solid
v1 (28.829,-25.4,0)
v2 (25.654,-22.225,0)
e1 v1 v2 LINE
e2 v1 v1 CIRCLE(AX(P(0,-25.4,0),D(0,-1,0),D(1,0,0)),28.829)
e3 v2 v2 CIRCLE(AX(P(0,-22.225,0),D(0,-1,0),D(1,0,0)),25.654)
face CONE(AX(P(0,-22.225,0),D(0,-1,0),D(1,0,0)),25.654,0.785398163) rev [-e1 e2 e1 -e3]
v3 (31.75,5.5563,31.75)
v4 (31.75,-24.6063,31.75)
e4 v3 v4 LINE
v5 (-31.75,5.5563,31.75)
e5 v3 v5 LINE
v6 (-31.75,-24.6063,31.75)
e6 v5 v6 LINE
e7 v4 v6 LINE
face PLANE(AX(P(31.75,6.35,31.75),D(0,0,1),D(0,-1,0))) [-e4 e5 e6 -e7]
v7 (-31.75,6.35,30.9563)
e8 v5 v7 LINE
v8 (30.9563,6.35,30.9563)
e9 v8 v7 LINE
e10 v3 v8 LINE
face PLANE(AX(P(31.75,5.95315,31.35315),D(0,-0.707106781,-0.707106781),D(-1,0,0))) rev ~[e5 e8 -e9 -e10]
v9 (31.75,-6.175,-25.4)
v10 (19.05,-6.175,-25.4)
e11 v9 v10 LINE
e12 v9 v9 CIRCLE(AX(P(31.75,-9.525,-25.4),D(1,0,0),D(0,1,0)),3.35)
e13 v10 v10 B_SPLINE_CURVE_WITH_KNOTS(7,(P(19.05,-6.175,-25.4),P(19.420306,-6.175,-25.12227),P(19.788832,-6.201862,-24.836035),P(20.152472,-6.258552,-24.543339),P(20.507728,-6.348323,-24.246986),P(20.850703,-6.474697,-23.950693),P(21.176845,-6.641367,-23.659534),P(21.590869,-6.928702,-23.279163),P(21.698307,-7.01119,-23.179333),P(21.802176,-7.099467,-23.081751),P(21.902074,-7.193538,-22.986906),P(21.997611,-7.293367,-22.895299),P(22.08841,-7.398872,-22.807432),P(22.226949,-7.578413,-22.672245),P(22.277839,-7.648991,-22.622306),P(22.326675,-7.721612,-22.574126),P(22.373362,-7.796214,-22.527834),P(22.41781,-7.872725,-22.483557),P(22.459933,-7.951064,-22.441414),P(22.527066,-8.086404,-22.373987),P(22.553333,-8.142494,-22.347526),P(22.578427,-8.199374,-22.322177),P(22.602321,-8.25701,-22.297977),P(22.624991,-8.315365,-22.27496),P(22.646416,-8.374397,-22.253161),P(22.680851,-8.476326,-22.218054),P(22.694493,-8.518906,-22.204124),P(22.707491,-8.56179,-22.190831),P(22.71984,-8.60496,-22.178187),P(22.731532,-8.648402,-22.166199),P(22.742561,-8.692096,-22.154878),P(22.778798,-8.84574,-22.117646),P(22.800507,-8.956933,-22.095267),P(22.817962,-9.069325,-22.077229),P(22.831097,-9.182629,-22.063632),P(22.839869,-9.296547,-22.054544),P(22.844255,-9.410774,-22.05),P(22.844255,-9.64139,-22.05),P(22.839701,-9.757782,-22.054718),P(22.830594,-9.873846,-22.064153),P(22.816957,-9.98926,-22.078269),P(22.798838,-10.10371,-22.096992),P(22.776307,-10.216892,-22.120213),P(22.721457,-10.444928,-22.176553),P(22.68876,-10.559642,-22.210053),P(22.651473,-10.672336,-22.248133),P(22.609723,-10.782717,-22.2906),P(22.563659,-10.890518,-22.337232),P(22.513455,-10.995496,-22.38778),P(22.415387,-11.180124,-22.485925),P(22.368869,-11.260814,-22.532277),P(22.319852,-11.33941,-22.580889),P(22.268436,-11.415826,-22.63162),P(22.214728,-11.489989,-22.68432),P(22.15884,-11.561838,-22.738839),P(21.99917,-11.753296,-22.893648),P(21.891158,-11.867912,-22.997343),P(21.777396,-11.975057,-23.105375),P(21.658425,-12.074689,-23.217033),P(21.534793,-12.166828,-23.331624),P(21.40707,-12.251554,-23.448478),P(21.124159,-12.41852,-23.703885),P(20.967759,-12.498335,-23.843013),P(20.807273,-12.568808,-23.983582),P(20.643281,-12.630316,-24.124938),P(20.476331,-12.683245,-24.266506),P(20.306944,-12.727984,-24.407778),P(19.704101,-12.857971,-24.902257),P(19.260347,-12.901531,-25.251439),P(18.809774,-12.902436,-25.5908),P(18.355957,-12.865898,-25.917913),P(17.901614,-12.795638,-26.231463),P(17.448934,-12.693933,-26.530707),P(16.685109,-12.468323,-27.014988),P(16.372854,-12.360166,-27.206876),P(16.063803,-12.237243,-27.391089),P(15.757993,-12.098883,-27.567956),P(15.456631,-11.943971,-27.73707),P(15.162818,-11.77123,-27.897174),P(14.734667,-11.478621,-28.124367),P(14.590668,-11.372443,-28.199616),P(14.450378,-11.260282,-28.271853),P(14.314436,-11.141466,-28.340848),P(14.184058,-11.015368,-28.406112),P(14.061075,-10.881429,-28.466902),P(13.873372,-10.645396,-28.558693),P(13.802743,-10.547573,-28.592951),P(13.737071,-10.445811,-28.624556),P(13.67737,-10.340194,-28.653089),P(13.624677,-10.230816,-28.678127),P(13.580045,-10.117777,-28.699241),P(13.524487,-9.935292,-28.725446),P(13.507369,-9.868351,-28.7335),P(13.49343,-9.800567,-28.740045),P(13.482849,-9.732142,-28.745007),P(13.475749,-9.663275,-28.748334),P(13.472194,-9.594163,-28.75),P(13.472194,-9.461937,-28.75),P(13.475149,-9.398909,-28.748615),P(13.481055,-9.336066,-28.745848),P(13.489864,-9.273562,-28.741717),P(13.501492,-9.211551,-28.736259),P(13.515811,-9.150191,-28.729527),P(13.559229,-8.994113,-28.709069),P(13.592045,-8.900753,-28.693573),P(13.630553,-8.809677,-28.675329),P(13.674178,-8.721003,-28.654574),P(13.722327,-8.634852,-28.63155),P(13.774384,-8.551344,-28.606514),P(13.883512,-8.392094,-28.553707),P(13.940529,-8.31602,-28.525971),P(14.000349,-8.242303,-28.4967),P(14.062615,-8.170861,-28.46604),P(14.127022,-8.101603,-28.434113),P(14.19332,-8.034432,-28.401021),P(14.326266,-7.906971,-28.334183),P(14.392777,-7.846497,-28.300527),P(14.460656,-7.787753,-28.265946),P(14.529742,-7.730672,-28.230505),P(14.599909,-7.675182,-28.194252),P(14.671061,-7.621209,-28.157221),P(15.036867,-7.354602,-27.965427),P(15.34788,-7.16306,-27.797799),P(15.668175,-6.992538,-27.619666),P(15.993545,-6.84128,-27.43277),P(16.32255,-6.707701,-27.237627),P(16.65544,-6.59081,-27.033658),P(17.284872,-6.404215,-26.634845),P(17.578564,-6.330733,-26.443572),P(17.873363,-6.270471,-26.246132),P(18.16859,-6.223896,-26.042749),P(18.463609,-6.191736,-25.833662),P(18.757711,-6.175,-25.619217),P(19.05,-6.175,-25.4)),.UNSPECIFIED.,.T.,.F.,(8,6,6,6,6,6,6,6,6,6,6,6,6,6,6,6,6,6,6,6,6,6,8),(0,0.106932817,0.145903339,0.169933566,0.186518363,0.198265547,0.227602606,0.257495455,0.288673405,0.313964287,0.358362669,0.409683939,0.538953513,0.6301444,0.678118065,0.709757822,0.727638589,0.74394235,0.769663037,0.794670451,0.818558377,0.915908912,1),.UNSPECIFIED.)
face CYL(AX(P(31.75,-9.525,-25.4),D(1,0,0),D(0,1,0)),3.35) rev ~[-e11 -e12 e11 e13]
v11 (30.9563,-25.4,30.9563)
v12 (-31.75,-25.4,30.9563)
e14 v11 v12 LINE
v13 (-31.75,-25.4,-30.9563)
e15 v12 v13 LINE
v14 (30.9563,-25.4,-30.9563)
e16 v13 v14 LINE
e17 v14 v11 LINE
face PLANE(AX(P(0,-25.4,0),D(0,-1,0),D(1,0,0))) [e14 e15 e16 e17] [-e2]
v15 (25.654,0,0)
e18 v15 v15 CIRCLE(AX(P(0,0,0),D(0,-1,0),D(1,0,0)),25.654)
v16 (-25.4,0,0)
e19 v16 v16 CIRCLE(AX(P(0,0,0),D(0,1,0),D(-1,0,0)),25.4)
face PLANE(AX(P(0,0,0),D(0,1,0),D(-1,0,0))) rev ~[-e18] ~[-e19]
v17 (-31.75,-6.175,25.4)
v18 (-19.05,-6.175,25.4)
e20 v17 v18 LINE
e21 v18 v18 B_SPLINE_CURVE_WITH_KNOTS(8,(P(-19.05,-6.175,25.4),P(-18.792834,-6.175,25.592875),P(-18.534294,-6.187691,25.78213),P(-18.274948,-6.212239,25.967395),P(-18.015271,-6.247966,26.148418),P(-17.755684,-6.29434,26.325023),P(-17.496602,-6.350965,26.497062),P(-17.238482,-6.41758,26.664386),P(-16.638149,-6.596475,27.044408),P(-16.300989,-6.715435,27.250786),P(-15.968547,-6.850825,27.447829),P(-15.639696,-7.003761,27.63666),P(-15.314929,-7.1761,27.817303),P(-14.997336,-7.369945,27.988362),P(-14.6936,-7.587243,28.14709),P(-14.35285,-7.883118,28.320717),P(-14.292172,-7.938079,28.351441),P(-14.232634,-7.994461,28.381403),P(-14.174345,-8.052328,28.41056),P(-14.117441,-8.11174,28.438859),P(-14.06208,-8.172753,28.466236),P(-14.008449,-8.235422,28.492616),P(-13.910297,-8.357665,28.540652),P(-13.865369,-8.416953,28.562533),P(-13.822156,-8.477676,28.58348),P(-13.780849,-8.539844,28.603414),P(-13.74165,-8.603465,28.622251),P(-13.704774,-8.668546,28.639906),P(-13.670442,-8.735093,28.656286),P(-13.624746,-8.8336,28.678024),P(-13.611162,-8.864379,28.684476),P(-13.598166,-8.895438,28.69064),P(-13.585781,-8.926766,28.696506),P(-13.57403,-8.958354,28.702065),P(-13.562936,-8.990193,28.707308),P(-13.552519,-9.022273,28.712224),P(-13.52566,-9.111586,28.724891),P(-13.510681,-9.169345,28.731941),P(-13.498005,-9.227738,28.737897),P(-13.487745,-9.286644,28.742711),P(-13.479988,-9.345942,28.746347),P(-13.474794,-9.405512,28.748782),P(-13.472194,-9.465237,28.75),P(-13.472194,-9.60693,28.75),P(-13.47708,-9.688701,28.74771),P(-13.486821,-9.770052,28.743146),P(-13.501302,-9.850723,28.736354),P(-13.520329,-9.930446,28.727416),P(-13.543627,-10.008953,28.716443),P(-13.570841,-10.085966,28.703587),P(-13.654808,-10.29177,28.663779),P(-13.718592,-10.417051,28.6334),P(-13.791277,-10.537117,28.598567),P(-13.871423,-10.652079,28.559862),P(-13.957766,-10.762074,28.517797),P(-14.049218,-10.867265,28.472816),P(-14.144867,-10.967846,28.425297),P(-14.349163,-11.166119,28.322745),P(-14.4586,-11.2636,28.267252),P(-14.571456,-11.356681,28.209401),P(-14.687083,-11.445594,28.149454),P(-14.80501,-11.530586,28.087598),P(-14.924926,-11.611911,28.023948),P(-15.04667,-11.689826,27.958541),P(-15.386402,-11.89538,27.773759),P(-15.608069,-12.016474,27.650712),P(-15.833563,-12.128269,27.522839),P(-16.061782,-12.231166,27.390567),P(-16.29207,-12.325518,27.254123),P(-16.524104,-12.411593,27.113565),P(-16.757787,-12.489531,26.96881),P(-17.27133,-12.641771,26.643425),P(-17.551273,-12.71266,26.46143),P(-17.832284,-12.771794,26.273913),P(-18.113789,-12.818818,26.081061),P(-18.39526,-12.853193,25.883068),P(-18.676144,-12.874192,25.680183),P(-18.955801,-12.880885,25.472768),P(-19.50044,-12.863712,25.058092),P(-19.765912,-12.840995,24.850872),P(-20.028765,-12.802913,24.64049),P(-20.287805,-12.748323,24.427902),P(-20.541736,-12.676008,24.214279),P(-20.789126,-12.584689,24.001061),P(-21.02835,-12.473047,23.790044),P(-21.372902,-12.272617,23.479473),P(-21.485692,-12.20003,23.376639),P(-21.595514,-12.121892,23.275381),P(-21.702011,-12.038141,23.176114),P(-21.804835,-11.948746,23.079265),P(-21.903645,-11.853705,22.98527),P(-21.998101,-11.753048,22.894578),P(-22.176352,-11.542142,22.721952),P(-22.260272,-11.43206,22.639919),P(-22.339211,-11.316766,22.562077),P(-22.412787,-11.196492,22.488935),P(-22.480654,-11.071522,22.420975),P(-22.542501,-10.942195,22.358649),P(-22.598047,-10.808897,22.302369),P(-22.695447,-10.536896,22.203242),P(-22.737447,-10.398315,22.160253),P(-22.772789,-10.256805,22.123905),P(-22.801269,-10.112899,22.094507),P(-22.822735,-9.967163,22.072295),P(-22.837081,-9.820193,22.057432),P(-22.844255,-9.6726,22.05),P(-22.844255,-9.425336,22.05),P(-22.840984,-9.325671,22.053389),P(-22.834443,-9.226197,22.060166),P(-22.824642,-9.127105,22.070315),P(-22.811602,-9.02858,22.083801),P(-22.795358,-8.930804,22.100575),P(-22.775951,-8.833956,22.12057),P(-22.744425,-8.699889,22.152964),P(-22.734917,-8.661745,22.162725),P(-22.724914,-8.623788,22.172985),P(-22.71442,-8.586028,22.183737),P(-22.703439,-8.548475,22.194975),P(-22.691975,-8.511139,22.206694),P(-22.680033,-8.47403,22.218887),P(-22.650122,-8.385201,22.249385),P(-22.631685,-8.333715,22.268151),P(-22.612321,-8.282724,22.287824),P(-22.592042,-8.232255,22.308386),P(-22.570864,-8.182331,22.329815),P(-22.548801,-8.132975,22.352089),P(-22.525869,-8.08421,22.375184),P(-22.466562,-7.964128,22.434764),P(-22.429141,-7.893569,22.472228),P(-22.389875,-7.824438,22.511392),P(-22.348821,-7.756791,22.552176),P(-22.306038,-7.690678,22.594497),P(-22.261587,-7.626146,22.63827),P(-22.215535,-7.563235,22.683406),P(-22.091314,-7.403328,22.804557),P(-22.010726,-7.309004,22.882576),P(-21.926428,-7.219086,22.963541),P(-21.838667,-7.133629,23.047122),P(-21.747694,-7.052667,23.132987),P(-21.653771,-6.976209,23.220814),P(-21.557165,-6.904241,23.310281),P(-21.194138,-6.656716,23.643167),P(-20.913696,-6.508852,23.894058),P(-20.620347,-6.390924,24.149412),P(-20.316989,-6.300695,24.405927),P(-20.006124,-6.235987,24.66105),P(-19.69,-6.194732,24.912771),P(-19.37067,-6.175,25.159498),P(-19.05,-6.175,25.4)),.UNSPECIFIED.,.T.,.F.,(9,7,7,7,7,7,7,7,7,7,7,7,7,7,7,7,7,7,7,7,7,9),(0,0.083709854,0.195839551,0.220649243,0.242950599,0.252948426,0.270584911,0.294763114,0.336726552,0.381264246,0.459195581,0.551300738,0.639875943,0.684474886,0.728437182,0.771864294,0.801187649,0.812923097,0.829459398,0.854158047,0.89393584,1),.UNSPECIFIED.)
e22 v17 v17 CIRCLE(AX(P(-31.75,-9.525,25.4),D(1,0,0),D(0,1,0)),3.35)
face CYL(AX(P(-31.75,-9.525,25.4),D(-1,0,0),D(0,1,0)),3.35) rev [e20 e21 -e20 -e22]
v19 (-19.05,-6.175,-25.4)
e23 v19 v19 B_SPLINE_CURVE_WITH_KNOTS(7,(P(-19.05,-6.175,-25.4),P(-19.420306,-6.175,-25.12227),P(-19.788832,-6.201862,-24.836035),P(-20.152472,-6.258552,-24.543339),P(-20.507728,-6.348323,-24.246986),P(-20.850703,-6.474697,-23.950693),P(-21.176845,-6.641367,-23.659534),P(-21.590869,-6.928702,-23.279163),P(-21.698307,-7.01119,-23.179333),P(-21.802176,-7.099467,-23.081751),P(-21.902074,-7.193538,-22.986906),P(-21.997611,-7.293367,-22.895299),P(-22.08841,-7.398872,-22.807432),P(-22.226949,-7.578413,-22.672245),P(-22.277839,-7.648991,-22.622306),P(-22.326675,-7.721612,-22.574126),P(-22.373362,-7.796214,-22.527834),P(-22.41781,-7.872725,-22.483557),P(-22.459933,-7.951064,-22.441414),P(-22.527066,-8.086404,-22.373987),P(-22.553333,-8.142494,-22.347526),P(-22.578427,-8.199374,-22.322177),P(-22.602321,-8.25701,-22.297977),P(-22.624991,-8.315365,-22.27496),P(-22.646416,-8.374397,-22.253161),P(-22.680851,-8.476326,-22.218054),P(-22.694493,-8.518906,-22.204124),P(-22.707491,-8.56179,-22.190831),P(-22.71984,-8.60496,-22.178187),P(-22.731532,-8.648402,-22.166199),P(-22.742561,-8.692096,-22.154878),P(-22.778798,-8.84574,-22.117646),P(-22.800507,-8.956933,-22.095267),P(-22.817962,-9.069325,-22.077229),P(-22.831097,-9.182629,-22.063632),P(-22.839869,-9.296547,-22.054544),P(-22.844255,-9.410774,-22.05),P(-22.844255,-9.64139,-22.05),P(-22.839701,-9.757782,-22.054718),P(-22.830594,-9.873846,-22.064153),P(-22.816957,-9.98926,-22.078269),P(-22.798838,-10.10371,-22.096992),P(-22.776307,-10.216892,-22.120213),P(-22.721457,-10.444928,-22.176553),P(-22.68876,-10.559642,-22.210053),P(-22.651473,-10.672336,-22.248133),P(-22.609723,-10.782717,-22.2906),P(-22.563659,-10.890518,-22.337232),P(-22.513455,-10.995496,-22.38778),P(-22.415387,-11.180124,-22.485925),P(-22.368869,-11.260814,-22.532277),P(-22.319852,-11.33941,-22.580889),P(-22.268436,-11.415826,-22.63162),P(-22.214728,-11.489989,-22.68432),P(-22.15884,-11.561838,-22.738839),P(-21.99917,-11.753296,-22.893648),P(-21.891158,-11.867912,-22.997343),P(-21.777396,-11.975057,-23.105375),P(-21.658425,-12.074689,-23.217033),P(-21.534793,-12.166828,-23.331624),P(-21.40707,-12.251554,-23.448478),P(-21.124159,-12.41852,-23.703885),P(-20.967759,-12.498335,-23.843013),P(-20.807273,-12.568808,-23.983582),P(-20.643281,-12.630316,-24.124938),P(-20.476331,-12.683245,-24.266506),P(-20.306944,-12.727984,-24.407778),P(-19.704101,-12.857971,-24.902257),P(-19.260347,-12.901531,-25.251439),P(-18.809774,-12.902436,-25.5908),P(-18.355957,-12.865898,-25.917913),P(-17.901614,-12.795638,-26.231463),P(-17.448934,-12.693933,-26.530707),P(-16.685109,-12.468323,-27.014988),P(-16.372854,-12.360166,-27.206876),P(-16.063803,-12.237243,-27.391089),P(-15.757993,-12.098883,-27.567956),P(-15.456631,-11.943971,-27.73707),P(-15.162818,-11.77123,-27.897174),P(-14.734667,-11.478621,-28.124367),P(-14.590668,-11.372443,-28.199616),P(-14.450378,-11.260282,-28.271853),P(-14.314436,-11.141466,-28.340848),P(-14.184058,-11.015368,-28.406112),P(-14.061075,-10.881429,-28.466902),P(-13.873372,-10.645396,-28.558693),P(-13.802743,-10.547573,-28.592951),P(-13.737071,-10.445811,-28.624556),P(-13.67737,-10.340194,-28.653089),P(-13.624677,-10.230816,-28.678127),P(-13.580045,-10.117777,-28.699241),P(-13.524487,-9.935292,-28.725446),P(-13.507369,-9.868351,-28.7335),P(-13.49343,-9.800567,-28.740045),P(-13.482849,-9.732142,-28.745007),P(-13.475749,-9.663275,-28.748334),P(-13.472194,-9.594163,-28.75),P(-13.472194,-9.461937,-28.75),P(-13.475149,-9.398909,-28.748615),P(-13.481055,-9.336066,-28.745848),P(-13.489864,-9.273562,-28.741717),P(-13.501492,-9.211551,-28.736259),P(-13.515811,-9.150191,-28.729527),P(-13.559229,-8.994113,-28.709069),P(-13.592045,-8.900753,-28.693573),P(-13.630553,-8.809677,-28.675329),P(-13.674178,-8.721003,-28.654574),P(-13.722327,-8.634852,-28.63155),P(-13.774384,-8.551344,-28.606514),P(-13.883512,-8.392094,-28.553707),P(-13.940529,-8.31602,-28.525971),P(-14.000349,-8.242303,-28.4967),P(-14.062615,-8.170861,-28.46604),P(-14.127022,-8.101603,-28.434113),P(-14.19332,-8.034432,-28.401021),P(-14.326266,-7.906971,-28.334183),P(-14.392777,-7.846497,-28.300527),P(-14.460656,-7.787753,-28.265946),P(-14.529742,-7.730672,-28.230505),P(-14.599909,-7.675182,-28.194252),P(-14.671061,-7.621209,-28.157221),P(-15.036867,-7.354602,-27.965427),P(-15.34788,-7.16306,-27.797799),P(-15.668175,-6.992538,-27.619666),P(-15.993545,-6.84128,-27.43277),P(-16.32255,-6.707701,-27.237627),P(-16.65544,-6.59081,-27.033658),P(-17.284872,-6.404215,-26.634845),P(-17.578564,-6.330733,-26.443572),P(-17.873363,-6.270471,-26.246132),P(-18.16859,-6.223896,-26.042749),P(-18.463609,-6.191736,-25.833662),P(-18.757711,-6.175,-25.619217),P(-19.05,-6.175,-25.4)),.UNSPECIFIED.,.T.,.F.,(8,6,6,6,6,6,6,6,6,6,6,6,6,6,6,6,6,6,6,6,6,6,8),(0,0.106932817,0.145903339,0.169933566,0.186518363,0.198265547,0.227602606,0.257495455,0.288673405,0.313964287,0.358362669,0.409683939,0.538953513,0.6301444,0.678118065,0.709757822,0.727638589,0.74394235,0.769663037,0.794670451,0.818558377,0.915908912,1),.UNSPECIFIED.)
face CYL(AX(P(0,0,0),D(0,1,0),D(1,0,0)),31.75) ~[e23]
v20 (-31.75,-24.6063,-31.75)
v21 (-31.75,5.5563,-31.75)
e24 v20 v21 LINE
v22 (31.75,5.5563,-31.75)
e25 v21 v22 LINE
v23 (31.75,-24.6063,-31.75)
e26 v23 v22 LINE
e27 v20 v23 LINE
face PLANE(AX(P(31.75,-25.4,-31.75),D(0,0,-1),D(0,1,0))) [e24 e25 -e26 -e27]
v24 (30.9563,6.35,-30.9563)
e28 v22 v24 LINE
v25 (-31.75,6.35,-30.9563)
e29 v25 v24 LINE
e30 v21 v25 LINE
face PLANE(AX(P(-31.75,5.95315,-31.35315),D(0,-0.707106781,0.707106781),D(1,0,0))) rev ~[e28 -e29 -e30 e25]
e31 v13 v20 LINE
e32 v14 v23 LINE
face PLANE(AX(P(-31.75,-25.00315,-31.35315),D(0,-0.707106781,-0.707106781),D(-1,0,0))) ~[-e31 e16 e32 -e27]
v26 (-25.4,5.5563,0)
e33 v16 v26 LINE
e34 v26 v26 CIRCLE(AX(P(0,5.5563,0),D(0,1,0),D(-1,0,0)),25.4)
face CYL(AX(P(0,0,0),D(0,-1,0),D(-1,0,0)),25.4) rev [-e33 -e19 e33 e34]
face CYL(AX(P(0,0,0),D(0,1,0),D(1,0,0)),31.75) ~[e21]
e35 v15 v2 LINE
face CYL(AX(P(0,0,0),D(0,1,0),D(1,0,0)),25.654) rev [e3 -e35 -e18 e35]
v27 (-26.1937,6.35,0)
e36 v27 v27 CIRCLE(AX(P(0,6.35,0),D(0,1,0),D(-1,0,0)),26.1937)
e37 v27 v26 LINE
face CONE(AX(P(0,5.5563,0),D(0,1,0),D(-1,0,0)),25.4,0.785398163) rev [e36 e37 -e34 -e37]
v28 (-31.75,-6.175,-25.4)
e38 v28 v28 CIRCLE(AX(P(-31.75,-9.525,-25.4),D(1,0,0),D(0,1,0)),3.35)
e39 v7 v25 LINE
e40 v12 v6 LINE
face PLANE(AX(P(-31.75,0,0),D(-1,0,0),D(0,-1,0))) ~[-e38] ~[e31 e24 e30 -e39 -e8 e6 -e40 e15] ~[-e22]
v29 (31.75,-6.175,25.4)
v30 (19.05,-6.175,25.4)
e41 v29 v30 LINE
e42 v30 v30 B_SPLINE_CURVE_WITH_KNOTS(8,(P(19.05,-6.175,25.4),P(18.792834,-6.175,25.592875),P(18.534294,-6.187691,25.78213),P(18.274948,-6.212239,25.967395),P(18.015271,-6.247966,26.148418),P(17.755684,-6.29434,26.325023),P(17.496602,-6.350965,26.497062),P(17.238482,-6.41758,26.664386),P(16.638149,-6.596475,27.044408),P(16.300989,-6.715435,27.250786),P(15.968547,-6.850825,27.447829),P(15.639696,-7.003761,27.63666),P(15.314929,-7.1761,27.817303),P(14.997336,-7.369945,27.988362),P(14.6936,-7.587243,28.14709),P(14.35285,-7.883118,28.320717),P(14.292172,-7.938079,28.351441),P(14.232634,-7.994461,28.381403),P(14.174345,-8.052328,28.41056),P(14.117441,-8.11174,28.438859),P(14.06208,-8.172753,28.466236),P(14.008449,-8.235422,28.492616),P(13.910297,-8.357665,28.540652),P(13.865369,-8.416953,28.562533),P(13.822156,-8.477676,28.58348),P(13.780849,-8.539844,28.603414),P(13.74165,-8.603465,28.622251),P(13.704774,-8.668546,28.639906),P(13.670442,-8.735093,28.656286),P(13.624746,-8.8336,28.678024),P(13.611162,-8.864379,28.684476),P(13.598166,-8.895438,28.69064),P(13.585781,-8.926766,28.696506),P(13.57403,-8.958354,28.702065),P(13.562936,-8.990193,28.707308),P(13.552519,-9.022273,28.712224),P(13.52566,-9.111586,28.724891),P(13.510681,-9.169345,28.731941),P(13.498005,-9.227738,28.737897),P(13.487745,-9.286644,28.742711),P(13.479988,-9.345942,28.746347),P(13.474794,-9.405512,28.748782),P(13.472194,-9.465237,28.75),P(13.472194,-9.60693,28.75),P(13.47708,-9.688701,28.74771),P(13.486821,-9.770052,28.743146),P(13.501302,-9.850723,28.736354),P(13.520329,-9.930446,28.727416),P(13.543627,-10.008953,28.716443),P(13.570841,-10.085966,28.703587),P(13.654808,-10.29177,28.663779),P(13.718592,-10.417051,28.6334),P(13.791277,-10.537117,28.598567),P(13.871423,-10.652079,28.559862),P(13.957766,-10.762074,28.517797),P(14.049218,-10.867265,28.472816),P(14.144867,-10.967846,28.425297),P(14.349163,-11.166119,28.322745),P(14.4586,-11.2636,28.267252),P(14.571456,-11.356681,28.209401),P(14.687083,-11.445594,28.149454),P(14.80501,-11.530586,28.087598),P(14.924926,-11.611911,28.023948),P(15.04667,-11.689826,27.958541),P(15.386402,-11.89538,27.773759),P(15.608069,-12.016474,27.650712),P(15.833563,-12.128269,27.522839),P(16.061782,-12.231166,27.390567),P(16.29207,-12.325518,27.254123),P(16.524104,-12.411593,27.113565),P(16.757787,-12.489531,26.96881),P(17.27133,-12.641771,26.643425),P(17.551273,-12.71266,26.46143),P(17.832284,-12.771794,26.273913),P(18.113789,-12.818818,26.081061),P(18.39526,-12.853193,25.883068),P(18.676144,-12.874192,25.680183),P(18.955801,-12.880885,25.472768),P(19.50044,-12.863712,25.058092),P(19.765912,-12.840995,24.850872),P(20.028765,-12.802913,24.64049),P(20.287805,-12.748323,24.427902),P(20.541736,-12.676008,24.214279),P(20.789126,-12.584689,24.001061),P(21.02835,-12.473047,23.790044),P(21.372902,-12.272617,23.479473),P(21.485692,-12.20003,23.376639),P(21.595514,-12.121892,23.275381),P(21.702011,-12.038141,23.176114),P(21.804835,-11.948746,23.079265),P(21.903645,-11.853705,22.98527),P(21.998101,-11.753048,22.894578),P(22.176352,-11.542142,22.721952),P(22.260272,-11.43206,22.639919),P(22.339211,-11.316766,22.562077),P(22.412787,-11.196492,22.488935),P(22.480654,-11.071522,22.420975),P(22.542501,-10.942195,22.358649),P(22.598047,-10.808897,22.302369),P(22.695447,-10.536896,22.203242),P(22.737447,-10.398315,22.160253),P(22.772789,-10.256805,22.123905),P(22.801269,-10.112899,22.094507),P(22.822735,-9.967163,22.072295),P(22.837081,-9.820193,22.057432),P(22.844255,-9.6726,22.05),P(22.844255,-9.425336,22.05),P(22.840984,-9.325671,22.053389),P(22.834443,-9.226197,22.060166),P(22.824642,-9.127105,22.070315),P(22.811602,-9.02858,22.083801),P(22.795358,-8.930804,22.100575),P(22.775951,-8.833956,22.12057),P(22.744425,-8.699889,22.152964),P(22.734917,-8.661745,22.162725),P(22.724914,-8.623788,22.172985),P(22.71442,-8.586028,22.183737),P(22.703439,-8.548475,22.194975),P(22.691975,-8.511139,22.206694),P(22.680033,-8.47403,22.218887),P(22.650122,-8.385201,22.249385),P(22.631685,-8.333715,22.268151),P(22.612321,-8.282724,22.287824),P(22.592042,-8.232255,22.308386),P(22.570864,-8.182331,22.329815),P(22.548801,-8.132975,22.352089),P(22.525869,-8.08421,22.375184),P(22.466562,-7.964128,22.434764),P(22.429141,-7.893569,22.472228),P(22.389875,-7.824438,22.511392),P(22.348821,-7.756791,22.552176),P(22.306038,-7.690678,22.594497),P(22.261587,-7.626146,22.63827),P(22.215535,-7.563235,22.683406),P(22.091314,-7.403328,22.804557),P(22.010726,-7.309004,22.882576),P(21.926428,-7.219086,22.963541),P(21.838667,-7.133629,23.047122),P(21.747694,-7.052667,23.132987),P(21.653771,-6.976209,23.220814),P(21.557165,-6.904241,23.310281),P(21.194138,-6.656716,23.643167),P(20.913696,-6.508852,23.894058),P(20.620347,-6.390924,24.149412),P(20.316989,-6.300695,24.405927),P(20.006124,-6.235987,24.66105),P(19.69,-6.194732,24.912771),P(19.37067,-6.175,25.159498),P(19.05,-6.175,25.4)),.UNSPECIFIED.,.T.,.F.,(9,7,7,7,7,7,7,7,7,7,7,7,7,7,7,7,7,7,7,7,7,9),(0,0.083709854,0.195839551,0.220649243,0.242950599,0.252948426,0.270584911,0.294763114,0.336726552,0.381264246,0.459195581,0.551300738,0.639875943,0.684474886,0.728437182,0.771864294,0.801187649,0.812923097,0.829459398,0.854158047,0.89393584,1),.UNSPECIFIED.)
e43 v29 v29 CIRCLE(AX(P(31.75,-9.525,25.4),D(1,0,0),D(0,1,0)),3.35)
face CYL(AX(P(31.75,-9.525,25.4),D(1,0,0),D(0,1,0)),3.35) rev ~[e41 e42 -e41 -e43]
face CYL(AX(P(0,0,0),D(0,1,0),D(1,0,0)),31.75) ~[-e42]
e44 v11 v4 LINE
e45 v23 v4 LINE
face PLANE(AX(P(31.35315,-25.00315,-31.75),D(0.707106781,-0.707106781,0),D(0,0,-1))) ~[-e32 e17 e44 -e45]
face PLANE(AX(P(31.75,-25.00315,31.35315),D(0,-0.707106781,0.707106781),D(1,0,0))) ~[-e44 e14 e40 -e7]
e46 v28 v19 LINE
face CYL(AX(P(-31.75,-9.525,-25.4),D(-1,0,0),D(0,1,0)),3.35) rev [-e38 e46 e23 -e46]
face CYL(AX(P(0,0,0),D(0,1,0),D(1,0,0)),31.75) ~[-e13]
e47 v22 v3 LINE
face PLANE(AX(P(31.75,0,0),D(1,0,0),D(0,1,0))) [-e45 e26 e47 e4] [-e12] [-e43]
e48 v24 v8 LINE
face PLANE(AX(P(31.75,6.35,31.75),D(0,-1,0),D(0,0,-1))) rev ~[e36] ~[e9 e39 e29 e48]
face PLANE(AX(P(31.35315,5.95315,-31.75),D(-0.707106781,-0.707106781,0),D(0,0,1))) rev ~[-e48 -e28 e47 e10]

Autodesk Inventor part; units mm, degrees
ref_plane "XZ Plane" through (0, 0, 0) normal (0, 1, 0) x (-1, 0, 0)
ref_plane "XY Plane" through (0, 0, 0) normal (0, 0, 1) x (1, 0, 0)
sketch "Sketch1" plane through (0, 0, 0) normal (0, 1, 0) x (-1, 0, 0)
  circle A0 centre (0, 0) radius 25.4
  circle A1 centre (0, 0) radius 31.75
  dimension "d0" = 50.8
  dimension "d1" = 63.5
extrude "Extrusion1" add sketch "Sketch1" along normal blind 6.35
sketch "Sketch2" plane through (0, 0, 0) normal (0, -1, 0) x (1, 0, 0)
  circle A0 centre (0, 0) radius 25.654
  circle A1 centre (0, 0) radius 31.75 projected
  dimension "d4" = 51.308
extrude "Extrusion2" add sketch "Sketch2" along normal blind 25.4
chamfer "Chamfer1" distance 3.175 angle 45 1 edges at (-25.654, -25.4, 0)
ref_plane "Work Plane1" through (31.75, 0, 0) normal (1, 0, 0) x (0, 1, 0)
sketch "Sketch5" plane through (31.75, 0, 0) normal (1, 0, 0) x (0, 1, 0)
  line L0 (6.35, 31.75) -> (-25.4, 31.75)
  line L1 (-25.4, -31.75) -> (6.35, -31.75)
  line L2 (6.35, 31.75) -> (-25.4, -31.75) construction
  line L3 (-25.4, 31.75) -> (6.35, -31.75) construction
  line L4 (0, 25.654) -> (0, -25.654) construction
  circle A0 centre (-9.525, 25.4) radius 3.35
  circle A1 centre (-9.525, -25.4) radius 3.35
  line L5 (-9.525, 25.4) -> (-9.525, -25.4) construction
  line L6 (6.35, 31.75) -> (6.35, -31.75)
  line L7 (-25.4, 31.75) -> (-25.4, -31.75)
  point P0 (0, 0)
  point P1 (6.35, 0)
  point P2 (-9.525, 0)
  dimension "d27" = 63.5
  dimension "d28" = 50.8
  dimension "d29" = 6.7
extrude "Extrusion4" add sketch "Sketch5" against normal up to surface
mirror "Mirror1" about plane through (0, 0, 0) normal (1, 0, 0) of "Extrusion4"
chamfer "Chamfer3" distance 0.7937 angle 45 7 edges at (0, 6.35, 31.75) (0, 6.35, -31.75) (25.4, 6.35, 0) (31.75, 6.35, 0) (31.75, -25.4, 0) (0, -25.4, -31.75) (0, -25.4, 31.75)
properties part number "WL-002" material "Aluminum 6061"
